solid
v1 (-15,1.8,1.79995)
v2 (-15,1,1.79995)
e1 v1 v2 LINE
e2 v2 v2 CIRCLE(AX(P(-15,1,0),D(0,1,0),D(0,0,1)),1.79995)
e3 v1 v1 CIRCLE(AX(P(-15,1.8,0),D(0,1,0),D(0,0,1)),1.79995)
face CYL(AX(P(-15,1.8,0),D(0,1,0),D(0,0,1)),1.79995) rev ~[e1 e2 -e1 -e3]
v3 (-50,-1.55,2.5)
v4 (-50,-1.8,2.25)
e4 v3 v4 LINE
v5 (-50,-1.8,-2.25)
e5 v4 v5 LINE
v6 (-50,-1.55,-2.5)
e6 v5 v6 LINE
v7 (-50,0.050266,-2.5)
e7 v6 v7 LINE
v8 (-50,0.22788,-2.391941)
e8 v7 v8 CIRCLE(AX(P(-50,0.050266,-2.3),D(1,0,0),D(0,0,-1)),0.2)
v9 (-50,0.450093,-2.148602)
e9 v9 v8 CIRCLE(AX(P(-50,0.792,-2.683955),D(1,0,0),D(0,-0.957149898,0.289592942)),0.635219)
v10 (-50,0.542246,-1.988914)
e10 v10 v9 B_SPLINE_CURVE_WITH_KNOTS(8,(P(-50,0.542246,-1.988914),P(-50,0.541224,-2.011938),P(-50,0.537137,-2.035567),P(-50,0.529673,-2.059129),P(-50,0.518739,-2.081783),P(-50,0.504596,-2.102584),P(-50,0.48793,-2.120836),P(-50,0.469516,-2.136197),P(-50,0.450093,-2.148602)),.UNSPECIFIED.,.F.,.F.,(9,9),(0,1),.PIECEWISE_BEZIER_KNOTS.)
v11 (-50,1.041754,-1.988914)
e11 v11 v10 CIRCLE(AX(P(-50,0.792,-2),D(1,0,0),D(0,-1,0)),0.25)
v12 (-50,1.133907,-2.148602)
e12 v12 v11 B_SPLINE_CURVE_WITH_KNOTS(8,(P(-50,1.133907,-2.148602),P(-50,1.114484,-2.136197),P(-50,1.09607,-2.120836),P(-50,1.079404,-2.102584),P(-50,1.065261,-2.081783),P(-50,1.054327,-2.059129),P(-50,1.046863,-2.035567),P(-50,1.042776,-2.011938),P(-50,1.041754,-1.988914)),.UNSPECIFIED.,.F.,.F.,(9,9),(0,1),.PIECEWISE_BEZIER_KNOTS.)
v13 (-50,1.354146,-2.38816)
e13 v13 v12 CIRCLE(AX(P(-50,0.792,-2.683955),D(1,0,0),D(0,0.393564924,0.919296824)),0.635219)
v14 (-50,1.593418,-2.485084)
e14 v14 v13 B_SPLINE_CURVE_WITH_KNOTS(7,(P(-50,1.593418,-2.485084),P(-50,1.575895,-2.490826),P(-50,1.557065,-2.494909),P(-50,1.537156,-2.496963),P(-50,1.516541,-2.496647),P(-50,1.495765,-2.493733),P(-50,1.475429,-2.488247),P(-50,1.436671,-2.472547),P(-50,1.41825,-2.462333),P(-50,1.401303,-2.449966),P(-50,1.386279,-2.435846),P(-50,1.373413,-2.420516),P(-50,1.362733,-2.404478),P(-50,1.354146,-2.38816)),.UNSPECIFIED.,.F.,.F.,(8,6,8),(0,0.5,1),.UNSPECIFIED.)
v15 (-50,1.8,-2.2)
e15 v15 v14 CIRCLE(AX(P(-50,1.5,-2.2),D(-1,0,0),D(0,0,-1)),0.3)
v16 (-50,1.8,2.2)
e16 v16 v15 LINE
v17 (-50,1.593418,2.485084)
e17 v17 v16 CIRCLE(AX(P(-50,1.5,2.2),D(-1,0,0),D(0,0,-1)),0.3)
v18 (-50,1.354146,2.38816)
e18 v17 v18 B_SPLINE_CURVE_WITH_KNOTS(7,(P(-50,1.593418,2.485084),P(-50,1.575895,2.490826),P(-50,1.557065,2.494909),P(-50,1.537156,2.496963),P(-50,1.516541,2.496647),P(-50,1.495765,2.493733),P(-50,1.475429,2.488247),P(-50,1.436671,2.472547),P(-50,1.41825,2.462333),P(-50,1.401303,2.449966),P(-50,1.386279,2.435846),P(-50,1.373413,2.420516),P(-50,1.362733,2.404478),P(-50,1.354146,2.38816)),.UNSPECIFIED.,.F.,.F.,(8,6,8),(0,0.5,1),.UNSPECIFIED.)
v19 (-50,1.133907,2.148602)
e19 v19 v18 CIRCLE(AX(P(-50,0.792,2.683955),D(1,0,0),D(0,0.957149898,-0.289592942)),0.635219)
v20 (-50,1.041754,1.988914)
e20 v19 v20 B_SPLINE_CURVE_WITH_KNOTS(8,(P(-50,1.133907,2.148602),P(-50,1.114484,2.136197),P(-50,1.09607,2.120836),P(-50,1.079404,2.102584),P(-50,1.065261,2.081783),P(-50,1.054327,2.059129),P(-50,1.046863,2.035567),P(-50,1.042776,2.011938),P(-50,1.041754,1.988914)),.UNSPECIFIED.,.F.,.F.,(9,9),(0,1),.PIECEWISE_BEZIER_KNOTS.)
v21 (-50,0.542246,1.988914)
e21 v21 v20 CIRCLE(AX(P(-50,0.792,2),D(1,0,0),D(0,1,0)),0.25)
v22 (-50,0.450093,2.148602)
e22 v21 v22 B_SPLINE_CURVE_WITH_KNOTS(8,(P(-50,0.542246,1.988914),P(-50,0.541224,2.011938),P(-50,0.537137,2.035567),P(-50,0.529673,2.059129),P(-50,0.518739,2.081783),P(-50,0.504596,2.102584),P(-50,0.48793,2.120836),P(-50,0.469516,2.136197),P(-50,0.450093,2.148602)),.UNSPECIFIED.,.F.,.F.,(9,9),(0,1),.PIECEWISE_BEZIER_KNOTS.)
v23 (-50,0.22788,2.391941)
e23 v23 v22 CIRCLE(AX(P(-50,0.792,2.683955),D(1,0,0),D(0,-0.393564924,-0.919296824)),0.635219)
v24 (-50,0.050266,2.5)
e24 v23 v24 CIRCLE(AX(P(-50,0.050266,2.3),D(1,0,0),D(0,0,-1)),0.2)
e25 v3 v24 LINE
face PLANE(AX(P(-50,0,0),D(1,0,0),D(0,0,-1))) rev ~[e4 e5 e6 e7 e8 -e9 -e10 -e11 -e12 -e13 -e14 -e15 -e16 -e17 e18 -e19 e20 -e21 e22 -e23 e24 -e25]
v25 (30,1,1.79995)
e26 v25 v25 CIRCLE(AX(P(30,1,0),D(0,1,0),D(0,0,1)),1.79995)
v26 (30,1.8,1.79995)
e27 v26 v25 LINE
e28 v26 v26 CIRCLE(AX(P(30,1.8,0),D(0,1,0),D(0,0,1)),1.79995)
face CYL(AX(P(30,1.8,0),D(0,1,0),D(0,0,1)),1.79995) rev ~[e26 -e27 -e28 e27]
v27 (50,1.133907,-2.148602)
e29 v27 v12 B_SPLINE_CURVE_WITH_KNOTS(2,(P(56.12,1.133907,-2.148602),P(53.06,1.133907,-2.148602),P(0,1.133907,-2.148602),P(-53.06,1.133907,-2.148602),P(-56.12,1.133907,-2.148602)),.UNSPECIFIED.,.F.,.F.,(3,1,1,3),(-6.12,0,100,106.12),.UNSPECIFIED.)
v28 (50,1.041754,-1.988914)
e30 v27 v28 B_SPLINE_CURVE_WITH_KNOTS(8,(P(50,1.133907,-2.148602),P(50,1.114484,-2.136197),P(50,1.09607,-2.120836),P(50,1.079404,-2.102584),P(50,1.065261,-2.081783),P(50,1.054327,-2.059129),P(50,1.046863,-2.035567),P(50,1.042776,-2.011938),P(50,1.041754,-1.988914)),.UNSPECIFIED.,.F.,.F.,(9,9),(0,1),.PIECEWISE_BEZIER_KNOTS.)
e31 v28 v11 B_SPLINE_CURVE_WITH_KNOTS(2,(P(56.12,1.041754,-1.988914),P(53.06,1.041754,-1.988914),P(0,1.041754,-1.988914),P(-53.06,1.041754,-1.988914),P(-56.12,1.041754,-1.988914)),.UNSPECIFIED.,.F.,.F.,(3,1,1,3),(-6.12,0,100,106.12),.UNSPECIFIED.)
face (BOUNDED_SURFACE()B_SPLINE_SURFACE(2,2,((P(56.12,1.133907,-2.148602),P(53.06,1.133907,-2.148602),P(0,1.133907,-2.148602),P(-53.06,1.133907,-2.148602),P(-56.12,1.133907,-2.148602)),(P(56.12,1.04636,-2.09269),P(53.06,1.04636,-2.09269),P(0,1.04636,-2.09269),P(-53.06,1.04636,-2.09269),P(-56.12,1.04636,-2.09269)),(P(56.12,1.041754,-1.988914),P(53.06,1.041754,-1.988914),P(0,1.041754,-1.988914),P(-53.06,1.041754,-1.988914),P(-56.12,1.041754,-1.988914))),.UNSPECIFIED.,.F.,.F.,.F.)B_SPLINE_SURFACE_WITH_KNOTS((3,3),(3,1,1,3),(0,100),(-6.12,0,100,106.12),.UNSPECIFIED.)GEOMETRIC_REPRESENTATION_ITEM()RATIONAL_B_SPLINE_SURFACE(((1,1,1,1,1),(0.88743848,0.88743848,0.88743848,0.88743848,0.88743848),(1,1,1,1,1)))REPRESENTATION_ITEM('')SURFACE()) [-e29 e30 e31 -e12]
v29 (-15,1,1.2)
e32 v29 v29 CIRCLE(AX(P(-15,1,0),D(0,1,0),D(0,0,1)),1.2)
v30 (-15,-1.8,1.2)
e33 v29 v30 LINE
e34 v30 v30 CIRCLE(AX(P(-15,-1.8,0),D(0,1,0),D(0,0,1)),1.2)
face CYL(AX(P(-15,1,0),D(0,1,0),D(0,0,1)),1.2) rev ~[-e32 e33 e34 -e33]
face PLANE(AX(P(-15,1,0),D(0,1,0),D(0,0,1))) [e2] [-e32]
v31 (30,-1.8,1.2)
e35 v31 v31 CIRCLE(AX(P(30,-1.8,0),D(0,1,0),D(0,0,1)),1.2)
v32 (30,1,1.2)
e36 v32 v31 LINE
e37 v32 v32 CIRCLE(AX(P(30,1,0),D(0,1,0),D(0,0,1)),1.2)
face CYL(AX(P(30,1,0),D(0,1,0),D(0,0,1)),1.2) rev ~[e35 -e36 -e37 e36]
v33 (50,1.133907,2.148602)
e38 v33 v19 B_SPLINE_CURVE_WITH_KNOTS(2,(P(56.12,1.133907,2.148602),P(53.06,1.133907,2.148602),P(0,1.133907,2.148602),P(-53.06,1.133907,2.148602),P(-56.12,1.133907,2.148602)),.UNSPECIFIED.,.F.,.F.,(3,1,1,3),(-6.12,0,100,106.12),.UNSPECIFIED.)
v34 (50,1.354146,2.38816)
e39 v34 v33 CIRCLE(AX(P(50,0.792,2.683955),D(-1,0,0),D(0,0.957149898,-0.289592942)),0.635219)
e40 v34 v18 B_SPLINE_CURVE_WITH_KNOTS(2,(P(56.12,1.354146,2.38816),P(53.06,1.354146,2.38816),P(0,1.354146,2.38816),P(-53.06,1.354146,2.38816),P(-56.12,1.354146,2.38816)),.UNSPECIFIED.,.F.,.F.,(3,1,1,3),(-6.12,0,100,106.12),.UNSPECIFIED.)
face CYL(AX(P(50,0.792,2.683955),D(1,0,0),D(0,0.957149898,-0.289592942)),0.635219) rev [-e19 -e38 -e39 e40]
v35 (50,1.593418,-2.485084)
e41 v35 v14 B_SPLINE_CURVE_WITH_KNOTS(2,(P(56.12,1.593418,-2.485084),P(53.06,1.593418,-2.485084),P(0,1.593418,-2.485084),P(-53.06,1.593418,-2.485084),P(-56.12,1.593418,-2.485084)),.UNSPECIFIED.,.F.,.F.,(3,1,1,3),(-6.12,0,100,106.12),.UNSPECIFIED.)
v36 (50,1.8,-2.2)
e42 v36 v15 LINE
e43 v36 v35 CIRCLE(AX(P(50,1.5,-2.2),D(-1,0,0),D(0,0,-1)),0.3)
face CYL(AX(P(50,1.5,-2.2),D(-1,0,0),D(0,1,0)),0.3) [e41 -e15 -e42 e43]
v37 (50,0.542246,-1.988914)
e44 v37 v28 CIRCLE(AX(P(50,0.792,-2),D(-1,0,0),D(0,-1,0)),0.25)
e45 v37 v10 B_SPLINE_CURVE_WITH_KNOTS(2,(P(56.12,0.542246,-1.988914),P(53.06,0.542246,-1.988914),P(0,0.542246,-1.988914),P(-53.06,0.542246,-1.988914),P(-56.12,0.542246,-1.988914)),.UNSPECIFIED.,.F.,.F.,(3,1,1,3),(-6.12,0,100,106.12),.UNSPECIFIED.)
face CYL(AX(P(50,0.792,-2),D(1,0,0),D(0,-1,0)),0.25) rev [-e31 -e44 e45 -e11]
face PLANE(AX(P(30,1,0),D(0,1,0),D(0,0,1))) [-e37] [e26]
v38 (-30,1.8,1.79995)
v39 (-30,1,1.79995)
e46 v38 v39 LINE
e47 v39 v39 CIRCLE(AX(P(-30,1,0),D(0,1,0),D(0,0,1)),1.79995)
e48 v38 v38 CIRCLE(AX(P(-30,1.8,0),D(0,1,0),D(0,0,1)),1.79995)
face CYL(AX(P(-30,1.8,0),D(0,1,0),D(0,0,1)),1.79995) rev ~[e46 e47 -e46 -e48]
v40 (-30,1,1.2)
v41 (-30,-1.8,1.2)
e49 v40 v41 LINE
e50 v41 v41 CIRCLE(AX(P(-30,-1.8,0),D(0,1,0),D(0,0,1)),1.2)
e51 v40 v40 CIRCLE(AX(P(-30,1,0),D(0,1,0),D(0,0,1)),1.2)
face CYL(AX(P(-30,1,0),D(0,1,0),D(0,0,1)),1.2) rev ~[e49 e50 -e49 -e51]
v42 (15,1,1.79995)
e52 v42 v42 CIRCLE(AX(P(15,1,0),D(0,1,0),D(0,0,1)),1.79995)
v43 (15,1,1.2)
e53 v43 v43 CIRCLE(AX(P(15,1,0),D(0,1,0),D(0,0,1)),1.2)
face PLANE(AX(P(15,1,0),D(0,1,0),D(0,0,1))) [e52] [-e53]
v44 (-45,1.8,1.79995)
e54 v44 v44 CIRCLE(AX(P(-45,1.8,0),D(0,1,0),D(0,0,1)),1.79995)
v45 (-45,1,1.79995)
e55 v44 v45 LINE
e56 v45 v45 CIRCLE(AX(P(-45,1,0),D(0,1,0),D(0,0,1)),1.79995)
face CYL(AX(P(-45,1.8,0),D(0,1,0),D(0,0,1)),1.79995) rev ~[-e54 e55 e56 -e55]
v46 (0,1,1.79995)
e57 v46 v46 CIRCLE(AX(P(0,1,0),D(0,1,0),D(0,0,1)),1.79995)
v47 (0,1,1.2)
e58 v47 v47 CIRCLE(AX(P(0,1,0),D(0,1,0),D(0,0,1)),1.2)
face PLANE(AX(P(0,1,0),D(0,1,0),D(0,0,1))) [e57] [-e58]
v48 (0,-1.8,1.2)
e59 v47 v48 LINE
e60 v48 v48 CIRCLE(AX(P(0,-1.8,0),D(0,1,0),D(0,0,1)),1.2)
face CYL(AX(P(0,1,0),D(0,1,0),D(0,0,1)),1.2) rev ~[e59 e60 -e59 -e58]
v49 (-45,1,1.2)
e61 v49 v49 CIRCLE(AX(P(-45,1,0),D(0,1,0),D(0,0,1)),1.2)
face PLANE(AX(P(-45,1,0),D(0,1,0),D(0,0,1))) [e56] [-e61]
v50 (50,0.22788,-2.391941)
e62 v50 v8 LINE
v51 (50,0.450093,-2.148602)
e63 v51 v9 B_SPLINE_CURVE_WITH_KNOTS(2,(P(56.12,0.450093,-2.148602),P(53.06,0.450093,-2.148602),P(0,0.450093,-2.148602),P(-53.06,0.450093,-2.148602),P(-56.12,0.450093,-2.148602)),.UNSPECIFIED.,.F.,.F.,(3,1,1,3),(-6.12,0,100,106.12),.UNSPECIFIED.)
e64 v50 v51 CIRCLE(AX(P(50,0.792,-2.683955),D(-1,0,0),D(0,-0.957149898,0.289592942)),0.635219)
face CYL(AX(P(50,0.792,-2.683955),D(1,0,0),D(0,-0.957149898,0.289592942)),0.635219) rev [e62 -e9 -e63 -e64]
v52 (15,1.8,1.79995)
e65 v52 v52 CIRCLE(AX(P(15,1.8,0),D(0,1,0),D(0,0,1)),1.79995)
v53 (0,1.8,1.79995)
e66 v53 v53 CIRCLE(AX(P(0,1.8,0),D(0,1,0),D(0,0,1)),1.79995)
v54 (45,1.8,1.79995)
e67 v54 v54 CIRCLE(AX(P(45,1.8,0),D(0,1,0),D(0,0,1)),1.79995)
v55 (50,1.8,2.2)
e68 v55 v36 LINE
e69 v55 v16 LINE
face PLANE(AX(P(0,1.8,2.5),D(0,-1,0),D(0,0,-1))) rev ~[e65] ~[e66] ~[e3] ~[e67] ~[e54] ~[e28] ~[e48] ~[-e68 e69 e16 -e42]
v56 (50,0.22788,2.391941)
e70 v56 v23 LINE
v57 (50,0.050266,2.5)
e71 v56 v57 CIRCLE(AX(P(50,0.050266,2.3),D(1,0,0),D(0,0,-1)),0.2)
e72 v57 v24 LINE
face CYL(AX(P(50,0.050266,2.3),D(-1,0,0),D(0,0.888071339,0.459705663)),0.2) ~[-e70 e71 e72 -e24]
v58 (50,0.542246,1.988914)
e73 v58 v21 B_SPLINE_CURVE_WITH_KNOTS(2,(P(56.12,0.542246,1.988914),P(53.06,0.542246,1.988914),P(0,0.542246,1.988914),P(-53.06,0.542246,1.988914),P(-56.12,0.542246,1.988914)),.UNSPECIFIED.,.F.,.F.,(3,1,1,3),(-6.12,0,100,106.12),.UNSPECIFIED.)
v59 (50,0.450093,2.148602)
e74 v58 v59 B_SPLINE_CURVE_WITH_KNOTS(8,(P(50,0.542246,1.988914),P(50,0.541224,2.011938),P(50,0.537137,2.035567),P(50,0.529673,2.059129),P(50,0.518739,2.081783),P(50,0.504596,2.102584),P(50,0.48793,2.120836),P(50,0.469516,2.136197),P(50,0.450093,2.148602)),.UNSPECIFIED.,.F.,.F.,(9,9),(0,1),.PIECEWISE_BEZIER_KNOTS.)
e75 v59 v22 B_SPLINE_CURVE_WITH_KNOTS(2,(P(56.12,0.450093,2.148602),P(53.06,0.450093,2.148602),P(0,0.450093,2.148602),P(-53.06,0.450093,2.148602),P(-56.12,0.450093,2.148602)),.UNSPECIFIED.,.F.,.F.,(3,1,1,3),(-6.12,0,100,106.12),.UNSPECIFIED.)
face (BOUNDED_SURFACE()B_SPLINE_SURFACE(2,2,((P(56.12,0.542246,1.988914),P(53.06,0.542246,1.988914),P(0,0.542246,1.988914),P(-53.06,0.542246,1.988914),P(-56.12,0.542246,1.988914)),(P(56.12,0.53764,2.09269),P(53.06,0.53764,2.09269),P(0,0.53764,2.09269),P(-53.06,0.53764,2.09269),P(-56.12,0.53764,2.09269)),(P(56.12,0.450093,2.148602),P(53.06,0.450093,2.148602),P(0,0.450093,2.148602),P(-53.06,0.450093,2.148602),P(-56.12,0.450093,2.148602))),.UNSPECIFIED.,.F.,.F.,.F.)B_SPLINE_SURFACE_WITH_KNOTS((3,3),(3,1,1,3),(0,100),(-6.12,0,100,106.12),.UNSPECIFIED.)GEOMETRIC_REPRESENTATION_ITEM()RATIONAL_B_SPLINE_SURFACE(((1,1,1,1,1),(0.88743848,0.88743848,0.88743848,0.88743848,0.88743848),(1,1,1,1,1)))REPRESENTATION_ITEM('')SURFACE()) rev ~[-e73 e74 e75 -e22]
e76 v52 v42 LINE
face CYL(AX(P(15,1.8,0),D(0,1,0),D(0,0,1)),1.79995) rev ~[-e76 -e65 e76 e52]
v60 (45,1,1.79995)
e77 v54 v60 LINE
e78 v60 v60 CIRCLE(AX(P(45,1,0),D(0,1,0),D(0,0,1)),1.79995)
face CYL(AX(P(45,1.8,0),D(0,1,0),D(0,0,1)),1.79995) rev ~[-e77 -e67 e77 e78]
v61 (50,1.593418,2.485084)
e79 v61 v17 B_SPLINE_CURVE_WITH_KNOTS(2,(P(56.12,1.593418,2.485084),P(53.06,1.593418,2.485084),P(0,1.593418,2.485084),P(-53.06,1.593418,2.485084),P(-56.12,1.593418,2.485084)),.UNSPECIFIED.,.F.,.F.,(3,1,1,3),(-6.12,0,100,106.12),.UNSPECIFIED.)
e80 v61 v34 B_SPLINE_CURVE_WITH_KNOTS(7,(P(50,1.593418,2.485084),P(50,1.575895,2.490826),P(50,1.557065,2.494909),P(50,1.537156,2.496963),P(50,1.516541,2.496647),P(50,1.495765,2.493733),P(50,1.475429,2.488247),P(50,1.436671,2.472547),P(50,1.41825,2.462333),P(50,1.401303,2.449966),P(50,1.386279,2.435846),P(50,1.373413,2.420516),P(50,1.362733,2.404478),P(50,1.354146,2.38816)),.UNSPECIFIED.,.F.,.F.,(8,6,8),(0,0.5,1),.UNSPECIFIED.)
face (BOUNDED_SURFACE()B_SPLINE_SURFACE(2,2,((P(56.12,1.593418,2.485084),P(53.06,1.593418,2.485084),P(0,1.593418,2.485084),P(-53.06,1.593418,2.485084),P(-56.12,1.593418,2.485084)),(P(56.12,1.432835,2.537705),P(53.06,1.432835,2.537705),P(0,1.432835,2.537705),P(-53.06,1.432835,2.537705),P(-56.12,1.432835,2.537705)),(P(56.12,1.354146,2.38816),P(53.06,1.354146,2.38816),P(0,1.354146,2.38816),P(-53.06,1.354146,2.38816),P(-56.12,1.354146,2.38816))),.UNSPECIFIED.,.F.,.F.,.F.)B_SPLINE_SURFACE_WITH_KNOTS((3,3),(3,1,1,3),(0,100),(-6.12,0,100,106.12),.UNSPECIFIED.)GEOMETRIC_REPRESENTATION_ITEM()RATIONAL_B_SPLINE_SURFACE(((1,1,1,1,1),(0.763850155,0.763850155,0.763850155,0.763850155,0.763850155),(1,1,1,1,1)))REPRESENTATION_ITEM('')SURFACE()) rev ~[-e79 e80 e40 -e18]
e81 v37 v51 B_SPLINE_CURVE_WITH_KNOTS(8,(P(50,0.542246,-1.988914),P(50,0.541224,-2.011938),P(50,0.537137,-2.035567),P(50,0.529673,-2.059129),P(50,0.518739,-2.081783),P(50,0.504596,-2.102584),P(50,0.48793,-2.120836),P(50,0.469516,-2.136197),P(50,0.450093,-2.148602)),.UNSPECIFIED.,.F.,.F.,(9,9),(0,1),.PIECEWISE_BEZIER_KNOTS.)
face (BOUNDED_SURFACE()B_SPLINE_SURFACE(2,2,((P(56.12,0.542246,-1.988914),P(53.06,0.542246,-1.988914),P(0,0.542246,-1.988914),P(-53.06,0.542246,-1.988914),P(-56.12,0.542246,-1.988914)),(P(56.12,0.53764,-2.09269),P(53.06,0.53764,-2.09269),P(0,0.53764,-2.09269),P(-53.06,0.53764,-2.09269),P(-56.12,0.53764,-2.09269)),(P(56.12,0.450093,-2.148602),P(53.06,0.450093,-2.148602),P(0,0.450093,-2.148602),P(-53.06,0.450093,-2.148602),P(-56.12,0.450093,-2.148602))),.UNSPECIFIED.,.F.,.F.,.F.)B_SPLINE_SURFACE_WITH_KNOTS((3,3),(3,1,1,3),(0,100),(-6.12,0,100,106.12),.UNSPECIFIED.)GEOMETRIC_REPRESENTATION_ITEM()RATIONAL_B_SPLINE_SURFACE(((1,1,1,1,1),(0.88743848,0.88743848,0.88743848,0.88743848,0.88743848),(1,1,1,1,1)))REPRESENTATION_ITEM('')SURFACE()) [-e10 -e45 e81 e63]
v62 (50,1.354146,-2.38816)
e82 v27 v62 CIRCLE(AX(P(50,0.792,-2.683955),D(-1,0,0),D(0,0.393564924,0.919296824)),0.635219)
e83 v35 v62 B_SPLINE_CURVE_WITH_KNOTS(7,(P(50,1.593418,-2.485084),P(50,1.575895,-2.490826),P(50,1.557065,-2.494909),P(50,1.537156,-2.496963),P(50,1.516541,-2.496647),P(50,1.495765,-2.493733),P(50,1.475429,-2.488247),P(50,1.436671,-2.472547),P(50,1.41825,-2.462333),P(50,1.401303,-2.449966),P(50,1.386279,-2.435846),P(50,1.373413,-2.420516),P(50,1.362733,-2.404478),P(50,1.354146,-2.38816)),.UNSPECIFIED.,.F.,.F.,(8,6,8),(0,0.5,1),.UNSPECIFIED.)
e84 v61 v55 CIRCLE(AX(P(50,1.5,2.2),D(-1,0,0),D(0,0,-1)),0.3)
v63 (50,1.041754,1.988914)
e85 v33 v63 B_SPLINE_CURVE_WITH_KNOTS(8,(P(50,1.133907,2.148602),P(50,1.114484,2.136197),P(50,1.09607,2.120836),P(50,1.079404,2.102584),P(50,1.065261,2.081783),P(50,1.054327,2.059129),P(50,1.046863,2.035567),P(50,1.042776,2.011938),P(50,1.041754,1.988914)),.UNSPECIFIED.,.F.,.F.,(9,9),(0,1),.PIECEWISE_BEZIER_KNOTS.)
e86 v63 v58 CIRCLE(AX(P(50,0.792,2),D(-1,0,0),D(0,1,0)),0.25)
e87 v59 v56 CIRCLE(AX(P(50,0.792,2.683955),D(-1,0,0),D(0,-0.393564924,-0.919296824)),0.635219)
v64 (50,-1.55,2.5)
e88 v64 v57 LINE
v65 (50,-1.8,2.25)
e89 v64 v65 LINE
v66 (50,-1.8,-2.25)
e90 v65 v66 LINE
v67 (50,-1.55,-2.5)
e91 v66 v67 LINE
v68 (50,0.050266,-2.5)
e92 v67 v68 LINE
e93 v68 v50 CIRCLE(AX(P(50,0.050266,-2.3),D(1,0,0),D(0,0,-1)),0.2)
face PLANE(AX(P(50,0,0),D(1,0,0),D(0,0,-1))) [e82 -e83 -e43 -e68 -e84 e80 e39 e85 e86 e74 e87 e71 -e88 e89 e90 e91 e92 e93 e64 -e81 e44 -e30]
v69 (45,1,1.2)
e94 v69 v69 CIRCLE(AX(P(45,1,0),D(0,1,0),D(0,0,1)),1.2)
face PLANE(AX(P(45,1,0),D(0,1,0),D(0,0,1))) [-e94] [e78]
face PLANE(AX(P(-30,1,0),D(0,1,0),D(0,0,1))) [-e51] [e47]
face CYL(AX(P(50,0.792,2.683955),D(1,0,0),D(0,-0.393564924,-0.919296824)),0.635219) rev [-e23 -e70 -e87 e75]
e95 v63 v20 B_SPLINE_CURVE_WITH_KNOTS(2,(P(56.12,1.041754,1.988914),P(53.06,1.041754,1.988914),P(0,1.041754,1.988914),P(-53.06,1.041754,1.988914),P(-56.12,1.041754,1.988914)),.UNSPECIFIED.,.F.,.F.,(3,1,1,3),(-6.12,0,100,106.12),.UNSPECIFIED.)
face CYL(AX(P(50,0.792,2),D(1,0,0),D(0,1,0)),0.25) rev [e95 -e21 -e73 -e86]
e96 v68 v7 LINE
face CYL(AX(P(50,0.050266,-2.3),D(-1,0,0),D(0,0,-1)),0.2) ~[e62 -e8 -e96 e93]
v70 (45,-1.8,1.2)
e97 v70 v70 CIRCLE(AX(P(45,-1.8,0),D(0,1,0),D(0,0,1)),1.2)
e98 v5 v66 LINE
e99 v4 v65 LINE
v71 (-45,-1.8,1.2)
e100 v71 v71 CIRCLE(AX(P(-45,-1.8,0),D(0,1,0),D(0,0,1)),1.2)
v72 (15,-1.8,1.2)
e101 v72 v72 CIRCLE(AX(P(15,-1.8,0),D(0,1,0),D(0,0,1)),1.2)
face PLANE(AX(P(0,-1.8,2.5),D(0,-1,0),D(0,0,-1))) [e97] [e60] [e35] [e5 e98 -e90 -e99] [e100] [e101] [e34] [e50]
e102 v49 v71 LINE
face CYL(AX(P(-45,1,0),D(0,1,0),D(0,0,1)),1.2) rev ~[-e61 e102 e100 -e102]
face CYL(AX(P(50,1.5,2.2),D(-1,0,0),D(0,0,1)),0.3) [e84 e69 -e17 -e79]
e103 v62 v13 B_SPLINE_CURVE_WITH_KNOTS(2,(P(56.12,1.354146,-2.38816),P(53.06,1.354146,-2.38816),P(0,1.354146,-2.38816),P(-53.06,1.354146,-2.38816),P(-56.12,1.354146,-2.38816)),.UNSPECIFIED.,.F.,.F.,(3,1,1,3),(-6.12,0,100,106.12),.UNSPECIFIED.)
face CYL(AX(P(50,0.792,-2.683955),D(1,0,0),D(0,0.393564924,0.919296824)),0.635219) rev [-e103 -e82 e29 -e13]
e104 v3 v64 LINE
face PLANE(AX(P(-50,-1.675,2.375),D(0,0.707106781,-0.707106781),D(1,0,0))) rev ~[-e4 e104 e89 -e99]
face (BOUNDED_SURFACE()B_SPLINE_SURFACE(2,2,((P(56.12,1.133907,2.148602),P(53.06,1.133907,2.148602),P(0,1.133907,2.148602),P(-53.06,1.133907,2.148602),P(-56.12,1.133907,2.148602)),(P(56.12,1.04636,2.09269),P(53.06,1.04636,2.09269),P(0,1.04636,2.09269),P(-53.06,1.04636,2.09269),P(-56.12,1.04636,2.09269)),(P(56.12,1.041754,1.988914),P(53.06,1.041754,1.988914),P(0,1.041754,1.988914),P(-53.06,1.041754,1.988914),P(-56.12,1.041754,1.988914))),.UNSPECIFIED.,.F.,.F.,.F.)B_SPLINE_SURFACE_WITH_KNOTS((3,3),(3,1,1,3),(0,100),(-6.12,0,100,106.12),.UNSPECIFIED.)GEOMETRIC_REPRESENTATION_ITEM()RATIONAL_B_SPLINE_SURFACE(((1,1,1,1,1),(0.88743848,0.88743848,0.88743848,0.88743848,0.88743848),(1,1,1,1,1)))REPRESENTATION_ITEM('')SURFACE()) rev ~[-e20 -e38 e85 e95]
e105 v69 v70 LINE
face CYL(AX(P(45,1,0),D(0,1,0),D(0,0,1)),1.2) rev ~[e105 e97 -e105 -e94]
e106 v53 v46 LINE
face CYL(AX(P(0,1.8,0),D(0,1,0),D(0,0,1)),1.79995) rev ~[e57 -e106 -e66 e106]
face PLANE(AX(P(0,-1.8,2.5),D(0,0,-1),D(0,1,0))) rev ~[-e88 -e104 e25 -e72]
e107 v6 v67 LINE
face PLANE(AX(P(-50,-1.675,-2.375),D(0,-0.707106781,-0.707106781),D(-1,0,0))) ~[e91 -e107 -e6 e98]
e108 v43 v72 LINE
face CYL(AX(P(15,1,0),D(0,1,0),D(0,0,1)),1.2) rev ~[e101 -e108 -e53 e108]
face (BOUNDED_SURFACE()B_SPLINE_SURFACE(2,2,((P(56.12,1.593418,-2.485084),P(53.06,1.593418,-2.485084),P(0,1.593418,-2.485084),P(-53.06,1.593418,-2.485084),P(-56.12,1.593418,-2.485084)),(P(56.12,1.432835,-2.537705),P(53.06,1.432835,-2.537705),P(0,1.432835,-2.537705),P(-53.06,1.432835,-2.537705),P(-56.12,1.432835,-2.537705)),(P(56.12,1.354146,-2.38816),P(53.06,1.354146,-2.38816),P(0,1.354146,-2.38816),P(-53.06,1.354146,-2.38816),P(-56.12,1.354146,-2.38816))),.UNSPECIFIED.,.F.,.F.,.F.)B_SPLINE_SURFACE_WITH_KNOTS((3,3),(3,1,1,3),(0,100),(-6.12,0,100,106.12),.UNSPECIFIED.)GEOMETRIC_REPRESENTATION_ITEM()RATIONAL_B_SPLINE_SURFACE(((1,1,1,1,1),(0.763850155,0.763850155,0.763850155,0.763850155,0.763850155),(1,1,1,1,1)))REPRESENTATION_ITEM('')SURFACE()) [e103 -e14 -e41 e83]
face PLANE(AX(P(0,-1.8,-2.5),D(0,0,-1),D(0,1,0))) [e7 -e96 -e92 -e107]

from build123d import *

# Parameters (mm, degrees)
SKETCH_1_W             = 5
SKETCH_1_H             = 3.6
EXTRUDE_1_DEPTH        = 50
CUT_EXTRUDE_1_DEPTH    = 101.047438748
SKETCH_3_R             = 1.79995
CUT_EXTRUDE_2_DEPTH    = 0.8
SKETCH_4_R             = 1.2
CUT_EXTRUDE_3_DEPTH    = 51.140702029
FILLET_1_R             = 0.3
FILLET_2_R             = 0.2
CHAMFER_1_SIZE         = 0.25
PATTERN_LINEAR_1_COUNT = 7
PATTERN_LINEAR_1_PITCH = 15


with BuildPart() as part:
    # 草图1 → 凸台-拉伸1 (new, symmetric)
    with BuildSketch(Plane(origin=(0, 0, 0), x_dir=(0, 0, -1), z_dir=(1, 0, 0))):
        Rectangle(SKETCH_1_W, SKETCH_1_H)
    extrude(amount=EXTRUDE_1_DEPTH, both=True)

    # 草图2 → 切除-拉伸1 (cut, through all)
    with BuildSketch(Plane(origin=(50, 0, 0), x_dir=(0, 0, -1), z_dir=(1, 0, 0))):
        with BuildLine():
            Line((2.5, 1.4), (2.5, 0.184))
            ThreePointArc((2.5, 0.184), (2.260324923, 0.318670305), (2.1, 0.542))
            Line((2.1, 0.542), (2, 0.542))
            ThreePointArc((2, 0.542), (1.75, 0.792), (2, 1.042))
            Line((2, 1.042), (2.1, 1.042))
            ThreePointArc((2.1, 1.042), (2.260324923, 1.265329695), (2.5, 1.4))
        make_face()
        with BuildLine():
            Line((-2.1, 1.042), (-2, 1.042))
            ThreePointArc((-2, 1.042), (-1.75, 0.792), (-2, 0.542))
            Line((-2, 0.542), (-2.1, 0.542))
            ThreePointArc((-2.1, 0.542), (-2.260324923, 0.318670305), (-2.5, 0.184))
            Line((-2.5, 0.184), (-2.5, 1.4))
            ThreePointArc((-2.5, 1.4), (-2.260324923, 1.265329695), (-2.1, 1.042))
        make_face()
    extrude(amount=-CUT_EXTRUDE_1_DEPTH, mode=Mode.SUBTRACT)

    # 草图3 → 切除-拉伸2 (cut)
    with BuildSketch(Plane(origin=(0, 1.8, 0), x_dir=(1, 0, 0), z_dir=(0, 1, 0))):
        with Locations(Location((-45, 0, 0), (0, 0, 270))):
            Circle(SKETCH_3_R)
    cut_extrude_2 = extrude(amount=-CUT_EXTRUDE_2_DEPTH, mode=Mode.SUBTRACT)

    # 草图4 → 切除-拉伸3 (cut, through all)
    with BuildSketch(Plane(origin=(0, 1, 0), x_dir=(1, 0, 0), z_dir=(0, 1, 0))):
        with Locations(Location((-45, 0, 0), (0, 0, 270))):
            Circle(SKETCH_4_R)
    cut_extrude_3 = extrude(amount=-CUT_EXTRUDE_3_DEPTH, mode=Mode.SUBTRACT)

    # 圆角1
    fillet_1_edges = [part.edges().sort_by_distance(p)[0] for p in [
        (0, 1.8, 2.5),
        (0, 1.8, -2.5),
    ]]
    fillet(fillet_1_edges, radius=FILLET_1_R)

    # 圆角2
    fillet_2_edges = [part.edges().sort_by_distance(p)[0] for p in [
        (0, 1.4, -2.5),
        (0, 1.042, -2.1),
        (0, 0.542, -2.1),
        (0, 0.184, -2.5),
        (0, 0.184, 2.5),
        (0, 1.4, 2.5),
        (0, 1.042, 2.1),
        (0, 0.542, 2.1),
    ]]
    fillet(fillet_2_edges, radius=FILLET_2_R)

    # 倒角1
    chamfer_1_edges = [part.edges().sort_by_distance(p)[0] for p in [
        (0, -1.8, -2.5),
        (0, -1.8, 2.5),
    ]]
    chamfer(chamfer_1_edges, length=CHAMFER_1_SIZE)

    # 阵列(线性)1: 切除-拉伸2, 切除-拉伸3 ×7
    with Locations(*[(i * PATTERN_LINEAR_1_PITCH, 0, 0) for i in range(1, PATTERN_LINEAR_1_COUNT)]):
        add(cut_extrude_2, mode=Mode.SUBTRACT)
        add(cut_extrude_3, mode=Mode.SUBTRACT)


solid = part.part
